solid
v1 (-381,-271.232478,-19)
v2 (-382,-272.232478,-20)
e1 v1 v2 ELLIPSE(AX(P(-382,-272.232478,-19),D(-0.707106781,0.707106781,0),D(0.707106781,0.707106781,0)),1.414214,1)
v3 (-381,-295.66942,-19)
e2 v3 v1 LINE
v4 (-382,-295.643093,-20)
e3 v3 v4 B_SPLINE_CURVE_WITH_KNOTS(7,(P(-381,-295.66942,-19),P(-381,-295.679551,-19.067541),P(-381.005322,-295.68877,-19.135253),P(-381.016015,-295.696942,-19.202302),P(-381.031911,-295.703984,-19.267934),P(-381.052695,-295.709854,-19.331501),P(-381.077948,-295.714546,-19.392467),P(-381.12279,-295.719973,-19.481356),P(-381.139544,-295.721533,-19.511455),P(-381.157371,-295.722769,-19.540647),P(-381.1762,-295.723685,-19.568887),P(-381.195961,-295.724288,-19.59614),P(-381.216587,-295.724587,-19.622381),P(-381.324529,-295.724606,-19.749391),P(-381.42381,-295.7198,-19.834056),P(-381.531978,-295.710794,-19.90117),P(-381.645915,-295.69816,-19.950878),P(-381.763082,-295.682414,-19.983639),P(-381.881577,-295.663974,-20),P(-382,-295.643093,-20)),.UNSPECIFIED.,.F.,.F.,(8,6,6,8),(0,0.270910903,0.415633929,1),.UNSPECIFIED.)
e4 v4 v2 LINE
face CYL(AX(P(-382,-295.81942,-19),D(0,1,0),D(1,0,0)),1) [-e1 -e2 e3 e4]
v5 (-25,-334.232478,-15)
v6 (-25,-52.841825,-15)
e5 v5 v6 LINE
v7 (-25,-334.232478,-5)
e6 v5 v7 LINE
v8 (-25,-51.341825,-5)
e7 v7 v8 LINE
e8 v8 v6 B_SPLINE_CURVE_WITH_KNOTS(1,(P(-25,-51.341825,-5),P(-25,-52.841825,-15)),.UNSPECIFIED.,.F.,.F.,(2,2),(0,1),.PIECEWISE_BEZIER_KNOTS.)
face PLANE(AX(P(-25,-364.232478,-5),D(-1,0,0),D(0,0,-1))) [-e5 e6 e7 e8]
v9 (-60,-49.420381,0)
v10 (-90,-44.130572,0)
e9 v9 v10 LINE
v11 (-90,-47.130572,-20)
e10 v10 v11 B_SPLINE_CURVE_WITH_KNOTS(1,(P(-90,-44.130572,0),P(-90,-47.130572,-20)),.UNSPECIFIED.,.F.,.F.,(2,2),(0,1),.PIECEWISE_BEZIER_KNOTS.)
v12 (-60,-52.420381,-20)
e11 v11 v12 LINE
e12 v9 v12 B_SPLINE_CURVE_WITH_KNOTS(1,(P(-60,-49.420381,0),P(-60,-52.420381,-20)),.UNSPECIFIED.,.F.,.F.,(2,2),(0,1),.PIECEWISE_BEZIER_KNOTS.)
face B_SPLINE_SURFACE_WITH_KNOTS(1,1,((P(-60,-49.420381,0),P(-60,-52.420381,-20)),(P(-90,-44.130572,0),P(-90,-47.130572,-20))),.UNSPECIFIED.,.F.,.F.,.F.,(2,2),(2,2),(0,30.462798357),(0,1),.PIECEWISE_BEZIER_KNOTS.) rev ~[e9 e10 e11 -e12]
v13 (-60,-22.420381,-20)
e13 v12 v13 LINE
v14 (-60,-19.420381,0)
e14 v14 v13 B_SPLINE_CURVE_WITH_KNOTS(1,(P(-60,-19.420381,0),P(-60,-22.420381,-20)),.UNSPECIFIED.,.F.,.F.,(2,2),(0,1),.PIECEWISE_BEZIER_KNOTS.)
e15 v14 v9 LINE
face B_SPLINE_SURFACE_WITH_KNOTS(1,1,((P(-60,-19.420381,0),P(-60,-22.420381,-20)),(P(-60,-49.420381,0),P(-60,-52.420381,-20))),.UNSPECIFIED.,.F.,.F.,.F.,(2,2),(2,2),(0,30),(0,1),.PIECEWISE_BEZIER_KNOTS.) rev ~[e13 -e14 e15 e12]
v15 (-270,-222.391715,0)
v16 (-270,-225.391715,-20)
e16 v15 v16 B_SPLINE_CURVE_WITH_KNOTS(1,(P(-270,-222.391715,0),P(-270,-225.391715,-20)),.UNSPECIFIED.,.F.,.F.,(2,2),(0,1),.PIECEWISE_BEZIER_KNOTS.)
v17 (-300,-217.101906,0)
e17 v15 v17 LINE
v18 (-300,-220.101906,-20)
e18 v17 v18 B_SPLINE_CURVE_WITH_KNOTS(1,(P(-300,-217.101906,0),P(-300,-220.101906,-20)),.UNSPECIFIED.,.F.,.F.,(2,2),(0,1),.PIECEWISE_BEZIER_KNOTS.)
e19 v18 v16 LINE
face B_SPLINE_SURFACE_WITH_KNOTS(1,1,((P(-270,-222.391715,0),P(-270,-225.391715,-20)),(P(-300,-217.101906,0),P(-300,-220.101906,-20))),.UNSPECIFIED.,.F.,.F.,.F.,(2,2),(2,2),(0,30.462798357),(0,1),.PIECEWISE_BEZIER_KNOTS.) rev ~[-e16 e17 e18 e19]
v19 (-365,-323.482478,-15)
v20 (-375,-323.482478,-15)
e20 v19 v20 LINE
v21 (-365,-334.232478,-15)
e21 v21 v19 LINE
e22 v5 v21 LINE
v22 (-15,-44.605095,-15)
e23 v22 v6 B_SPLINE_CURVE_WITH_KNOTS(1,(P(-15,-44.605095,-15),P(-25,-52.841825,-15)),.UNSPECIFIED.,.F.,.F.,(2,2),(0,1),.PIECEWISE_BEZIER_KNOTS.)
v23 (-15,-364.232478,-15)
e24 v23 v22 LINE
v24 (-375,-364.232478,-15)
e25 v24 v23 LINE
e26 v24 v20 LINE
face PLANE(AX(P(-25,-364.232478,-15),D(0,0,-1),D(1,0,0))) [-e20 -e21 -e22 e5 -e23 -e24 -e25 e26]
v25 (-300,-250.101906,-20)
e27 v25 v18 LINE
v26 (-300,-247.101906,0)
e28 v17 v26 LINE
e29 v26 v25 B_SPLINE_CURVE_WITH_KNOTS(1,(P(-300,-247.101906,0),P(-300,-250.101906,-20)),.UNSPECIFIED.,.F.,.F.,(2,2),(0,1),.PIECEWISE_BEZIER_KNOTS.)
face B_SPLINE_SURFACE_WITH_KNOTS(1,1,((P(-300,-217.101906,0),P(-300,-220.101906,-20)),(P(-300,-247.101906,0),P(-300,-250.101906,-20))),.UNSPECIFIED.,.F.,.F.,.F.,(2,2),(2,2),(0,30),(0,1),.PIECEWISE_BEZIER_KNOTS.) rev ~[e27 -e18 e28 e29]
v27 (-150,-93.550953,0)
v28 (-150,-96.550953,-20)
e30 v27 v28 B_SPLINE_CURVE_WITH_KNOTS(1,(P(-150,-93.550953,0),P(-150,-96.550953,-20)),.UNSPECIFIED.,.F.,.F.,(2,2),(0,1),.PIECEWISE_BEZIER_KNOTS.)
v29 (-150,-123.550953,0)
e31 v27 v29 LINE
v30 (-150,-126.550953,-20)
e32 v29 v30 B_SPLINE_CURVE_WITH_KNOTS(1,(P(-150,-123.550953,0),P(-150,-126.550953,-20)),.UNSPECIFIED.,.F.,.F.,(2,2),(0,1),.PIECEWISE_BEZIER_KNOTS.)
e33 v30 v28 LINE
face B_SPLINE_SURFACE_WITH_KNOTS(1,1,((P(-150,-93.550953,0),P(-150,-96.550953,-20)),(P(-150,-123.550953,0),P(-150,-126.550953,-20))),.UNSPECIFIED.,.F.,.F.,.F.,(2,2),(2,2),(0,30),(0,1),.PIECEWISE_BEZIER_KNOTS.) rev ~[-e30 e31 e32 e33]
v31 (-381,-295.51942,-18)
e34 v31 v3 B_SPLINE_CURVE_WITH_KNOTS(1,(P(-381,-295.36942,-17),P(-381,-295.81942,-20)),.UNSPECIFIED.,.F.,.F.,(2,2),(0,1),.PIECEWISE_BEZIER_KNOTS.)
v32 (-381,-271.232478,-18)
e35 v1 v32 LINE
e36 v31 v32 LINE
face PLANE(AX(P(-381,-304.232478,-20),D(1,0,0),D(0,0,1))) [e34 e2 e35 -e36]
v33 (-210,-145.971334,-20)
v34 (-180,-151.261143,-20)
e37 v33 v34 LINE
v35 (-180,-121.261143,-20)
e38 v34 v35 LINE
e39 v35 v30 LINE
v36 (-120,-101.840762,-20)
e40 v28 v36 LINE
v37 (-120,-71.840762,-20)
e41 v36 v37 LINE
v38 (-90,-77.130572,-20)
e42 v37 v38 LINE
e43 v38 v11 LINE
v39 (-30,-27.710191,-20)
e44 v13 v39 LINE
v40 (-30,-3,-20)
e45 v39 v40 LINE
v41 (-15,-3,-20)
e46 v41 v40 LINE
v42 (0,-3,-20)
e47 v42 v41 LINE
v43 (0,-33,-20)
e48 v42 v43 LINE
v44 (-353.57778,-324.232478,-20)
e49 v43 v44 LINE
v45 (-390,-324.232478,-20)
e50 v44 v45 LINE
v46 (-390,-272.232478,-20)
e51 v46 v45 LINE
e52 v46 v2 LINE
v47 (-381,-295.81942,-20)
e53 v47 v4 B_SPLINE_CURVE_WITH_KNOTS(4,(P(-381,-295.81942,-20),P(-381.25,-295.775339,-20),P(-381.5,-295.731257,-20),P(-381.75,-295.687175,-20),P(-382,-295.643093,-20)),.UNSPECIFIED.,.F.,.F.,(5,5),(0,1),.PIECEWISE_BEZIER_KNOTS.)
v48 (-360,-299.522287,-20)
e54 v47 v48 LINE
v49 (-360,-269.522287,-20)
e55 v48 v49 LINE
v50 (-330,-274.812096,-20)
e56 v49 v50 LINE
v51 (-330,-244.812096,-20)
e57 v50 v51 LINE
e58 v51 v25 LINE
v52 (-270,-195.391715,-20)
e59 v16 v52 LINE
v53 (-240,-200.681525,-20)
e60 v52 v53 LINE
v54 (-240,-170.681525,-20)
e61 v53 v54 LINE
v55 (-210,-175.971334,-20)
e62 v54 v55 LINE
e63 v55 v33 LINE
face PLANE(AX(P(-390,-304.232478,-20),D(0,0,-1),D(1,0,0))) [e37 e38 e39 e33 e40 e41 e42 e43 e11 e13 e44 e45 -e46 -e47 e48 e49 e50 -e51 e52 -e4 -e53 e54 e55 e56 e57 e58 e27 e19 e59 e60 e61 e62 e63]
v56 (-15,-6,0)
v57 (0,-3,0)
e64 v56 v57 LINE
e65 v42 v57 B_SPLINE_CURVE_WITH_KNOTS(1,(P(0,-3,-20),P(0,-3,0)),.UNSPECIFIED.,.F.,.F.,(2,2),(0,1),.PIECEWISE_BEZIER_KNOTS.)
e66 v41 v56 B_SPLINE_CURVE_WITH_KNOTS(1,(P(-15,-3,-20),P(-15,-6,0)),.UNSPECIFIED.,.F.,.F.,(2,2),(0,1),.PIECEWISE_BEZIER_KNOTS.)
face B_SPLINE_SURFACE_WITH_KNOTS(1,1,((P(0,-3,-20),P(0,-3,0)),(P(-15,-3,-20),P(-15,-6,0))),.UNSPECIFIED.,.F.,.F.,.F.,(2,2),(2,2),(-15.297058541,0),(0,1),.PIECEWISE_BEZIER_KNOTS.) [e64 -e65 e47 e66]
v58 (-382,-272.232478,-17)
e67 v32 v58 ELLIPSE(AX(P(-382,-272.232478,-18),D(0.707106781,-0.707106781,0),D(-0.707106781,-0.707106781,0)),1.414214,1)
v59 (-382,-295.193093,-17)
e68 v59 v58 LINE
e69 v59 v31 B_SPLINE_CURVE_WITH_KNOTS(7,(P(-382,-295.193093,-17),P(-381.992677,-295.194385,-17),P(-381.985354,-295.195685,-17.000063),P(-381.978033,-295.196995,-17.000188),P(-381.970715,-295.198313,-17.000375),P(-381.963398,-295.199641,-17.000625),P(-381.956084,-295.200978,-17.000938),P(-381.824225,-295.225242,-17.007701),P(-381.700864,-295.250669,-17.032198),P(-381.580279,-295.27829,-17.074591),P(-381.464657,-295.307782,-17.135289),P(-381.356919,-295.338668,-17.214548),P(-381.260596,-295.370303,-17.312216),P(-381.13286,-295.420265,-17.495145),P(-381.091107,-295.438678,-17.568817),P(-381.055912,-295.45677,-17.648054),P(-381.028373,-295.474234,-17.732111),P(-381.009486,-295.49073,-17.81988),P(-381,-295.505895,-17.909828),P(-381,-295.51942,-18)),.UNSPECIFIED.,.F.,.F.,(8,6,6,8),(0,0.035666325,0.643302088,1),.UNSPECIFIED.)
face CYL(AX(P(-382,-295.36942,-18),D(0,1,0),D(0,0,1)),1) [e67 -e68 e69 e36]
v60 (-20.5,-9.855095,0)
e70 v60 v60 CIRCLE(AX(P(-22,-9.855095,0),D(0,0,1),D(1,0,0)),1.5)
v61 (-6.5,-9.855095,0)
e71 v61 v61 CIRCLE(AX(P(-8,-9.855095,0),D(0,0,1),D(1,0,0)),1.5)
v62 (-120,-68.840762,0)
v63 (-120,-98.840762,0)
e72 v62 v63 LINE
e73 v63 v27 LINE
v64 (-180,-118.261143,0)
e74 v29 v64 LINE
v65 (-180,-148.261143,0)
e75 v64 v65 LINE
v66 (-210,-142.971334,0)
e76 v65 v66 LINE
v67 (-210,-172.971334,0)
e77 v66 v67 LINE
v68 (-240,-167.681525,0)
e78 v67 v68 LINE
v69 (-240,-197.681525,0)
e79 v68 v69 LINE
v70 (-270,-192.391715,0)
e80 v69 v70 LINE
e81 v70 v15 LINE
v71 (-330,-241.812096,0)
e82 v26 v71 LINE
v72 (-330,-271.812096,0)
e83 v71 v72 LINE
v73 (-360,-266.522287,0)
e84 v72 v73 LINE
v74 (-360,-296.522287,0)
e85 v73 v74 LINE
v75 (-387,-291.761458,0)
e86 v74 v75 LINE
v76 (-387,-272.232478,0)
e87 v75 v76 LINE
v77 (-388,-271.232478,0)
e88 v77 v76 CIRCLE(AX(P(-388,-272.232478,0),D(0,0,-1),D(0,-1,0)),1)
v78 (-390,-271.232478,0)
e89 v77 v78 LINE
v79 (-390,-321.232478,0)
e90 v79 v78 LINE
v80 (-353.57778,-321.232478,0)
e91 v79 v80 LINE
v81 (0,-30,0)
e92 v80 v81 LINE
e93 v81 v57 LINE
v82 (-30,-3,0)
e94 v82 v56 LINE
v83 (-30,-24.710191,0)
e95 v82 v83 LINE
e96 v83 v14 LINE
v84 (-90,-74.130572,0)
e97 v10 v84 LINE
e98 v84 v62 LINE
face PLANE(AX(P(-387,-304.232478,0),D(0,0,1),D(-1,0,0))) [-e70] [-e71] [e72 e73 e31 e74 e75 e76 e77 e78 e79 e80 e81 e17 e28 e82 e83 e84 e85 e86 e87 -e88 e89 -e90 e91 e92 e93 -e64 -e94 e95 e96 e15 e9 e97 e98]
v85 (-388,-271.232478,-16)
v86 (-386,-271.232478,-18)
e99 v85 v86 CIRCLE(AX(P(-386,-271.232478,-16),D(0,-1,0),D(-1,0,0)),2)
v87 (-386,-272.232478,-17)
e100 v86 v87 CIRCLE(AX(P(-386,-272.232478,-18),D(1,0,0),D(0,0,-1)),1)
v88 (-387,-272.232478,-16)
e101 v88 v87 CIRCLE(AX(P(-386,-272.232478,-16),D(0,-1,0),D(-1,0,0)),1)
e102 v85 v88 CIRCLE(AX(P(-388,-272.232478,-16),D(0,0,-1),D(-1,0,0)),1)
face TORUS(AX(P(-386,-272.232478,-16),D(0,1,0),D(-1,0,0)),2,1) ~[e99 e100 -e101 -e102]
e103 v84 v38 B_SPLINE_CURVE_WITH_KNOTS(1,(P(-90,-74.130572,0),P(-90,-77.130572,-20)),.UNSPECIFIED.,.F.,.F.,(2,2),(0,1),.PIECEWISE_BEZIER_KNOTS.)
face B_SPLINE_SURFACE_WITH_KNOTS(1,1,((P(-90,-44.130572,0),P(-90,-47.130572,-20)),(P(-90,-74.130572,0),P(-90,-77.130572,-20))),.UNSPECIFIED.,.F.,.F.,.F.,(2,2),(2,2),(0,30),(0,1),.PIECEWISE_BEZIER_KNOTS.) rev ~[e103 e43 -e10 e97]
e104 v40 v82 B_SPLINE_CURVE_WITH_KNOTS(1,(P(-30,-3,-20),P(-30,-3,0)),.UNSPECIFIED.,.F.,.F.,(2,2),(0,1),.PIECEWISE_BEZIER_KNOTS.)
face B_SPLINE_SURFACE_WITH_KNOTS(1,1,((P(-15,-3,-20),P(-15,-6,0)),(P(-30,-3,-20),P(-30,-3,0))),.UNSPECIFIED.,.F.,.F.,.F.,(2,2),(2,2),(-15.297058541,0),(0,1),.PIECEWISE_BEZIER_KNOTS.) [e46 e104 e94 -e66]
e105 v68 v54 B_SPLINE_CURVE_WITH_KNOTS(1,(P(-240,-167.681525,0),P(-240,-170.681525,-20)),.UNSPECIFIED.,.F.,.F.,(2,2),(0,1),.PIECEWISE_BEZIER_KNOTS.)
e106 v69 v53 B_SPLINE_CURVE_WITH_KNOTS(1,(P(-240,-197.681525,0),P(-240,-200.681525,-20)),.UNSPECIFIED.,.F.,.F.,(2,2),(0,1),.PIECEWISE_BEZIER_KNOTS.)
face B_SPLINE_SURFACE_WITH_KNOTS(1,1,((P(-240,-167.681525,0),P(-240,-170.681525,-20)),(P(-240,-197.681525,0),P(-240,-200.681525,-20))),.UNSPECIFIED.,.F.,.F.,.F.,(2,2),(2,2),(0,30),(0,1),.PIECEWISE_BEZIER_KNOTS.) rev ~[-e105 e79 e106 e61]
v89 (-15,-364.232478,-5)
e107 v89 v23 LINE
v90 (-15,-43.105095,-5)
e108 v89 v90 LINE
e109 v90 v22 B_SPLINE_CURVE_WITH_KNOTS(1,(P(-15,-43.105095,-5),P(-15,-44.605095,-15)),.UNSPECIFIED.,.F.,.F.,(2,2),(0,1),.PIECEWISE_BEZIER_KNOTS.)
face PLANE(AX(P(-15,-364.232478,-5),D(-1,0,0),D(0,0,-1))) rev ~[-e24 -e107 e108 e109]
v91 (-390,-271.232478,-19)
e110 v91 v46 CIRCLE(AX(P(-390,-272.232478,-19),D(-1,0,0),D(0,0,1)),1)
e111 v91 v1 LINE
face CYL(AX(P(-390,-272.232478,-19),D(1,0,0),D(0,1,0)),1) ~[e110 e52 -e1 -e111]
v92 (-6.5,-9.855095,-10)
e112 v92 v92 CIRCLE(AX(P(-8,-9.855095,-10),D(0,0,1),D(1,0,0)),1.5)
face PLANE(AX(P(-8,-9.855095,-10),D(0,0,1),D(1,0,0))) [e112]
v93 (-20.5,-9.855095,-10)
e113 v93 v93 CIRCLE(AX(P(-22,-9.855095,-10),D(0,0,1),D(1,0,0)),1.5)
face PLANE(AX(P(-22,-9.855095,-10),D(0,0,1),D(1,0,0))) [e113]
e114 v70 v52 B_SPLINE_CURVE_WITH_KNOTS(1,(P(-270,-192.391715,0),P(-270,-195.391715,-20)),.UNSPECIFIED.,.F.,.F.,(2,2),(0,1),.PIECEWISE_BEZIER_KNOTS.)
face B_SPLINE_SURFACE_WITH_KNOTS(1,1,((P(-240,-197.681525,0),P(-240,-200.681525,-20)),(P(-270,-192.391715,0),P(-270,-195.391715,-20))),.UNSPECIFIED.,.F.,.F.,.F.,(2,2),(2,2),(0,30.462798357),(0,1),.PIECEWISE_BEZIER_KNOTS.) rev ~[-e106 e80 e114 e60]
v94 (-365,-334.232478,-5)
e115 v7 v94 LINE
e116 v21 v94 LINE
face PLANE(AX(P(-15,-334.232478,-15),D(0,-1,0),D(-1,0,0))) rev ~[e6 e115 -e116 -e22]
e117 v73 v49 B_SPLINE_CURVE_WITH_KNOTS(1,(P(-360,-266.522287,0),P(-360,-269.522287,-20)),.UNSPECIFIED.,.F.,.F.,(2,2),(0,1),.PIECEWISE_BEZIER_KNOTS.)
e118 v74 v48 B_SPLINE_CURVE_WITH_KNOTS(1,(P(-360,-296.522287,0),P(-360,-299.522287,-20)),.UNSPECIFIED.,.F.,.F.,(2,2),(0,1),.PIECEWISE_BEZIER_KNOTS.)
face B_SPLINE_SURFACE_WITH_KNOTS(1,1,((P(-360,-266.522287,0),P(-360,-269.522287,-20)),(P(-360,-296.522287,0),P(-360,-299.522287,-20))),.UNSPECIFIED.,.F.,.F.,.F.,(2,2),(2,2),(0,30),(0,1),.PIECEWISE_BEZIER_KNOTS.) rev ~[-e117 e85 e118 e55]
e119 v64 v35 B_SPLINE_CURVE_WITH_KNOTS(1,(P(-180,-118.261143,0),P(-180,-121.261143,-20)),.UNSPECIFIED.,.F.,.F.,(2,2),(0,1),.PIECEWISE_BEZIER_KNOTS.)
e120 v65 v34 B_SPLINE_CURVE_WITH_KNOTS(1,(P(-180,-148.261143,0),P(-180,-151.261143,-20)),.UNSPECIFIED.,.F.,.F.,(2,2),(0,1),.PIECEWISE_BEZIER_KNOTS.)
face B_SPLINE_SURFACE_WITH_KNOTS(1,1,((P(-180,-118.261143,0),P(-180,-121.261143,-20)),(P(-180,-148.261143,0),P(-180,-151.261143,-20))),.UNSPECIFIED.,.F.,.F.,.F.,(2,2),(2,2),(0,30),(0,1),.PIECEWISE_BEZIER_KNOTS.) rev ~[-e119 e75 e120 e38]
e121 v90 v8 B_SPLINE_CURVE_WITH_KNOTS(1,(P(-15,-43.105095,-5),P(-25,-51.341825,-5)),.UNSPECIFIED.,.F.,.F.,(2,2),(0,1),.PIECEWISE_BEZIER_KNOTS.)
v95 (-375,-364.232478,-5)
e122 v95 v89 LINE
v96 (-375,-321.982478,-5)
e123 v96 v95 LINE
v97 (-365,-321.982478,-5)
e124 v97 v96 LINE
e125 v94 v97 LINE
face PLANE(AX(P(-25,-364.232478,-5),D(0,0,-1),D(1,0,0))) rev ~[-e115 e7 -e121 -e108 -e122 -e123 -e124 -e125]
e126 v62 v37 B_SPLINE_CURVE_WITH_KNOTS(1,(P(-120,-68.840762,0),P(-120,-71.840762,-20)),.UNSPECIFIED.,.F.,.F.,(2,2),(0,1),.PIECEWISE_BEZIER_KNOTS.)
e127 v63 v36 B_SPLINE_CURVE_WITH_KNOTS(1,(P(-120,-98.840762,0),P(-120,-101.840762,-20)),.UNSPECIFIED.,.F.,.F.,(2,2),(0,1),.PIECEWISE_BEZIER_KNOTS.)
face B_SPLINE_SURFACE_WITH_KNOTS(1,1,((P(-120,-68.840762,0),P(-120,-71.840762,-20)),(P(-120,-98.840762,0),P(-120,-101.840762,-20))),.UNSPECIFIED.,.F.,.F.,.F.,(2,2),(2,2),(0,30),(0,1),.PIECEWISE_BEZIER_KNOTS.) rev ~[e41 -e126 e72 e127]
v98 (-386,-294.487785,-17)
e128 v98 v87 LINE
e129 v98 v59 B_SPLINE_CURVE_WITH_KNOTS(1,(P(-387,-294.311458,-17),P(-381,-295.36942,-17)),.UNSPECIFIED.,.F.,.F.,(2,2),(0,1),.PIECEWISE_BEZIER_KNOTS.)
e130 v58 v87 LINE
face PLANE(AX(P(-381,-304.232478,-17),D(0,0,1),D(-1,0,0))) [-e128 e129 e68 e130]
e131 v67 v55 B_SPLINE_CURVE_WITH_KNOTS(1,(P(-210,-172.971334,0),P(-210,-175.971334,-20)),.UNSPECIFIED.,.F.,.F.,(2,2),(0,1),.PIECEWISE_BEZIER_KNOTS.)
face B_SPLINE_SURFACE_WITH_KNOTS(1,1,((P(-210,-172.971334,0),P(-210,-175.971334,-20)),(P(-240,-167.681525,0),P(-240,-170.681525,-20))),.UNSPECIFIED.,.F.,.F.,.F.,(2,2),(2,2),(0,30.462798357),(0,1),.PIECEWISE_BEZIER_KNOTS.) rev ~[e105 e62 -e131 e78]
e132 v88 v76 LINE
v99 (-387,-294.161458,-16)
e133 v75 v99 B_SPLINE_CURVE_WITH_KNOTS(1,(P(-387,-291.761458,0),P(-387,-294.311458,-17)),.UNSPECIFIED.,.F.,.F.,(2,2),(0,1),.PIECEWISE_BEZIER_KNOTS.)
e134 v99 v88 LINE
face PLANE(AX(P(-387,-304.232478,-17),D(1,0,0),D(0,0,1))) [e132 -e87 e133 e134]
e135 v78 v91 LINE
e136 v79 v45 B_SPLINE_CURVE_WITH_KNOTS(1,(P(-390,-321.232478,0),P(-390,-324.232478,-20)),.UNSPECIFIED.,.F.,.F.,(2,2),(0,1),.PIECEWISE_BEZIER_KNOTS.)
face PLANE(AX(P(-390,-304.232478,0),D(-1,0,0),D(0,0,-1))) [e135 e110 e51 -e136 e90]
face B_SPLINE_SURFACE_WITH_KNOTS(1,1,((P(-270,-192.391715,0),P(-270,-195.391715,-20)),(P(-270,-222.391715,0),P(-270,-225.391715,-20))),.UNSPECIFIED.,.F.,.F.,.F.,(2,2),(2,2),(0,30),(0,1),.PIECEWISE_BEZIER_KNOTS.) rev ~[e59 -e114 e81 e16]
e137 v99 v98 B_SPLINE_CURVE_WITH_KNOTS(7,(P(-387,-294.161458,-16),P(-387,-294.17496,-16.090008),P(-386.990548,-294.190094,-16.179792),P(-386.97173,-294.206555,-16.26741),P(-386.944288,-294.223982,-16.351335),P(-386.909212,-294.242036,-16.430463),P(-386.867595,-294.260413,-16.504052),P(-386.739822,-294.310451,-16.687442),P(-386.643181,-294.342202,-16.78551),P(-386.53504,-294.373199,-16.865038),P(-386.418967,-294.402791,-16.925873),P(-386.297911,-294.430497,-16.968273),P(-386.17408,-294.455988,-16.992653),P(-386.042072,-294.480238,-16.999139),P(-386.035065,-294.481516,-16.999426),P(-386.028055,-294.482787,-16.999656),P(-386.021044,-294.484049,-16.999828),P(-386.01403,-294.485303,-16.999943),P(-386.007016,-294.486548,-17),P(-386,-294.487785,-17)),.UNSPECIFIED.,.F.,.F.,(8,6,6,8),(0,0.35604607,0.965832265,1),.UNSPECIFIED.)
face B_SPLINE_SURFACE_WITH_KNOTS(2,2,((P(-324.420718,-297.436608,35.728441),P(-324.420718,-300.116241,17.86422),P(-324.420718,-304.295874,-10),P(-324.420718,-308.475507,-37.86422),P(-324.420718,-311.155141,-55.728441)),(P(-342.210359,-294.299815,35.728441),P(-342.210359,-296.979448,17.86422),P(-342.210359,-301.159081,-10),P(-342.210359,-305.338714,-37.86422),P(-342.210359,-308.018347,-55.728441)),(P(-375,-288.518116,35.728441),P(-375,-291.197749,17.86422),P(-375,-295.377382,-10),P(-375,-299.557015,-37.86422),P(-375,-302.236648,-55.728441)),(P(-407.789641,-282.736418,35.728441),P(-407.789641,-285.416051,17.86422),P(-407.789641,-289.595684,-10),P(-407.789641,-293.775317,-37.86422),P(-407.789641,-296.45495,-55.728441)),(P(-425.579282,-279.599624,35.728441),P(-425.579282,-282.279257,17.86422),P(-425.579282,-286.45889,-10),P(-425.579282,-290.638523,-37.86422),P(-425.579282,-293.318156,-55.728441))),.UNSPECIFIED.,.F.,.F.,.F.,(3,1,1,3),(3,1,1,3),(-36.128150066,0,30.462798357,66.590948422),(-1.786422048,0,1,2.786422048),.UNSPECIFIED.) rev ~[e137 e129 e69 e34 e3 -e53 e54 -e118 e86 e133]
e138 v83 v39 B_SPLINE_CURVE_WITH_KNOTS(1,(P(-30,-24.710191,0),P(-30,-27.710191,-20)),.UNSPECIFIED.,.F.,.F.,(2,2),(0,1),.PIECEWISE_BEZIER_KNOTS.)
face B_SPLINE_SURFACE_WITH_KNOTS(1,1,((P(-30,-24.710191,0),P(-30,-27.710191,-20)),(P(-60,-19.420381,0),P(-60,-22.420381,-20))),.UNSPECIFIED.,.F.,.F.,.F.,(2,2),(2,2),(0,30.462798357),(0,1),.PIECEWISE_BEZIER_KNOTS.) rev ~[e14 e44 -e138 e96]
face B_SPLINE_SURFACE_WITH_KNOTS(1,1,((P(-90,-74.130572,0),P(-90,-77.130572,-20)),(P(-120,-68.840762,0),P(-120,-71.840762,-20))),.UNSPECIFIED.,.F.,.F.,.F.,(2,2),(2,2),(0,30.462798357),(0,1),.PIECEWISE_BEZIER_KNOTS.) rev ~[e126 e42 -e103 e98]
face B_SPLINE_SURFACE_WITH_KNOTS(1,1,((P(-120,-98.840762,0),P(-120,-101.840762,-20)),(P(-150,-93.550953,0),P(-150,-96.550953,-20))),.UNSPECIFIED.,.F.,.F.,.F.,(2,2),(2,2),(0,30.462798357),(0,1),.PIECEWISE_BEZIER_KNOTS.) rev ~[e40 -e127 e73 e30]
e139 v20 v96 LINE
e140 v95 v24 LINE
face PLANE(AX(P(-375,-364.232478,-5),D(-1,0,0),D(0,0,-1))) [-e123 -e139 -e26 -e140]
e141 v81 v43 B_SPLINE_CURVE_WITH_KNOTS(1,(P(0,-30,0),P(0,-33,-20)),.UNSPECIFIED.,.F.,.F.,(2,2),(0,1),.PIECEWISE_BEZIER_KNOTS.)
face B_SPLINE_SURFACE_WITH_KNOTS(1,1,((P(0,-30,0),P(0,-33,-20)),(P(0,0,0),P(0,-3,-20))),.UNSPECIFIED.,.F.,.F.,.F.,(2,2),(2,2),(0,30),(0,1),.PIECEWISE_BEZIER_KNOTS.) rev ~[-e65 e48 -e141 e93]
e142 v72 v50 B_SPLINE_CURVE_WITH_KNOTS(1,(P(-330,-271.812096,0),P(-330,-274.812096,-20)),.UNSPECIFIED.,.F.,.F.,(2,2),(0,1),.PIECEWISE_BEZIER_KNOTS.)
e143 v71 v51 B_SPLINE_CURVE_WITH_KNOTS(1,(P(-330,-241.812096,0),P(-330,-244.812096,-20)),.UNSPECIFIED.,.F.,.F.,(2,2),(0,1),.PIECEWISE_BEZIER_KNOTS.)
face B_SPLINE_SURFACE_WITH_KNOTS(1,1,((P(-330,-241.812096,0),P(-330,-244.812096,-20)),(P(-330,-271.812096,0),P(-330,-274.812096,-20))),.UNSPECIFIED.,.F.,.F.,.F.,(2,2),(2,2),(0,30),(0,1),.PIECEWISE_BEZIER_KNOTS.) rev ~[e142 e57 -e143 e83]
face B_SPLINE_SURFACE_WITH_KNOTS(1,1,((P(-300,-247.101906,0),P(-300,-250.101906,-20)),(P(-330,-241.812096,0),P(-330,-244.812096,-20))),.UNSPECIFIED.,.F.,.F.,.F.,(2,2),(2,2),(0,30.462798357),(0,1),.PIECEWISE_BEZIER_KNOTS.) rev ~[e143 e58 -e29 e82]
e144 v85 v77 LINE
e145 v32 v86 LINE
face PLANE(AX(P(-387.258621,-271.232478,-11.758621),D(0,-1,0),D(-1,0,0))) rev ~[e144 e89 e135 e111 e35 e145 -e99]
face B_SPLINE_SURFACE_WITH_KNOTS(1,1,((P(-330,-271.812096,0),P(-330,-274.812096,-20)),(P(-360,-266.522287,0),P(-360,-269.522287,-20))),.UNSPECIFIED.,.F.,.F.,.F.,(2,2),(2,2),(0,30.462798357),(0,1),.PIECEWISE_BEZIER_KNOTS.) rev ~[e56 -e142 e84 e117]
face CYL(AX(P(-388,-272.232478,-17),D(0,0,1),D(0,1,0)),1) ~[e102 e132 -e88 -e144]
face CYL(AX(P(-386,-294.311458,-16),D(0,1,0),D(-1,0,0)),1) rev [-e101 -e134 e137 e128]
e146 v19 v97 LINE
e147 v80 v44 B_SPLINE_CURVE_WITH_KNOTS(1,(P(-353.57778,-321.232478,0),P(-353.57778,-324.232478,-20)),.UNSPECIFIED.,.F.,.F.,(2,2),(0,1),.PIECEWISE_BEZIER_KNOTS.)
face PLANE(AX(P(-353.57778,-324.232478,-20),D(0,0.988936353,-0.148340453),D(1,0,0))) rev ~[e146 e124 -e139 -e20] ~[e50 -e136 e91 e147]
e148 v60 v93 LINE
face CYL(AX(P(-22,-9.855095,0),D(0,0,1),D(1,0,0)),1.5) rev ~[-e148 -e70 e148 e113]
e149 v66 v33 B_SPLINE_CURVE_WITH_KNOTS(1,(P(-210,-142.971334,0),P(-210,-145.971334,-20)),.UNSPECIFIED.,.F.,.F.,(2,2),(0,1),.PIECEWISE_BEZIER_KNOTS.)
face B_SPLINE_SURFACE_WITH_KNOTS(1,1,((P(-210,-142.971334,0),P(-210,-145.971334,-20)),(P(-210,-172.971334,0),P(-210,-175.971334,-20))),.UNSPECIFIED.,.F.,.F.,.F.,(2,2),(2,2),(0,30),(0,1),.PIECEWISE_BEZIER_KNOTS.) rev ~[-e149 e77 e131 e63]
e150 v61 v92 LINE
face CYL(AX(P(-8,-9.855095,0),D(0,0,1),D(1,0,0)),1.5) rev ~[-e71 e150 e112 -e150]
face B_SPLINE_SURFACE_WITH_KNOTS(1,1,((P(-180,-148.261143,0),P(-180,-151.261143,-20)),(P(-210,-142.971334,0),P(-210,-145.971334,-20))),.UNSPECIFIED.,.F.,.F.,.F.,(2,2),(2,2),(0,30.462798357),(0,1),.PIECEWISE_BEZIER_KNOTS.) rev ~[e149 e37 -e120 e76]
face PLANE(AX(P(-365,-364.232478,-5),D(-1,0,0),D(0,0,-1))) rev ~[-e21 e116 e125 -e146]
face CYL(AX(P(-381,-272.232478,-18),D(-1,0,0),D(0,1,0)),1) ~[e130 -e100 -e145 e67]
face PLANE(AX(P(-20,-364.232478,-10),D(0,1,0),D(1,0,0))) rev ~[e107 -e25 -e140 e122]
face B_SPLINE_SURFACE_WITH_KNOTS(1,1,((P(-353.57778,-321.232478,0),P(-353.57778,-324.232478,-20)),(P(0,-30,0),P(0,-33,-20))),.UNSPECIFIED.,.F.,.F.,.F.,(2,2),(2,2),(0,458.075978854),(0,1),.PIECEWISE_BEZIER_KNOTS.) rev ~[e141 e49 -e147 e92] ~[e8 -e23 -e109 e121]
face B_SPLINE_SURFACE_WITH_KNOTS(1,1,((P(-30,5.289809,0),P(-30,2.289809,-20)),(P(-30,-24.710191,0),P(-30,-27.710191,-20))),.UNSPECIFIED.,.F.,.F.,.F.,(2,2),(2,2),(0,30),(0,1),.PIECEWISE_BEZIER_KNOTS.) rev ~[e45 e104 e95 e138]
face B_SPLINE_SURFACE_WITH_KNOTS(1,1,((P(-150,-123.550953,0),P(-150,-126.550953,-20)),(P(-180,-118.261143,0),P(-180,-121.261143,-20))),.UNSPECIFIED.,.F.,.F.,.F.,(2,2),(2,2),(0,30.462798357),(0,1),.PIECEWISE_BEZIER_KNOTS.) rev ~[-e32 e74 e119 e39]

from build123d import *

# Parameters (mm, degrees)
BOSS_EXTRUDE3_DEPTH      = 20
BOSS_EXTRUDE3_DEPTH_BACK = 13
FILLET2_R                = 1
BOSS_EXTRUDE4_DEPTH      = 20
BOSS_EXTRUDE4_DEPTH_BACK = 40
SKETCH10_W               = 10
SKETCH10_H               = 10
BOSS_EXTRUDE5_DEPTH      = 300
BOSS_EXTRUDE5_DEPTH_BACK = 40
SKETCH12_W               = 10
SKETCH12_H               = 10
SKETCH13_W               = 360
SKETCH13_H               = 30
BOSS_EXTRUDE6_DEPTH      = 10
SKETCH14_R               = 1.5
CUT_EXTRUDE1_DEPTH       = 10


with BuildPart() as part:
    # Sketch1 → Loft1 section 0
    with BuildSketch(Plane.XY):
        with BuildLine():
            Line((0, 0), (-30, 5.289809421))
            Line((-30, 5.289809421), (-30, -24.710190579))
            Line((-30, -24.710190579), (-60, -19.420381157))
            Line((-60, -19.420381157), (-60, -49.420381157))
            Line((-60, -49.420381157), (-90, -44.130571736))
            Line((-90, -44.130571736), (-90, -74.130571736))
            Line((-90, -74.130571736), (-120, -68.840762315))
            Line((-120, -68.840762315), (-120, -98.840762315))
            Line((-120, -98.840762315), (-150, -93.550952894))
            Line((-150, -93.550952894), (-150, -123.550952894))
            Line((-150, -123.550952894), (-180, -118.261143472))
            Line((-180, -118.261143472), (-180, -148.261143472))
            Line((-180, -148.261143472), (-210, -142.971334051))
            Line((-210, -142.971334051), (-210, -172.971334051))
            Line((-210, -172.971334051), (-240, -167.68152463))
            Line((-240, -167.68152463), (-240, -197.68152463))
            Line((-240, -197.68152463), (-270, -192.391715209))
            Line((-270, -192.391715209), (-270, -222.391715209))
            Line((-270, -222.391715209), (-300, -217.101905787))
            Line((-300, -217.101905787), (-300, -247.101905787))
            Line((-300, -247.101905787), (-330, -241.812096366))
            Line((-330, -241.812096366), (-330, -271.812096366))
            Line((-330, -271.812096366), (-360, -266.522286945))
            Line((-360, -266.522286945), (-360, -296.522286945))
            Line((-360, -296.522286945), (-390, -291.232477524))
            Line((-390, -291.232477524), (-390, -321.232477524))
            Line((-390, -321.232477524), (-353.577779899, -321.232477524))
            Line((-353.577779899, -321.232477524), (0, -30))
            Line((0, -30), (0, 0))
        make_face()
    # Sketch2 → Loft1 section 1
    with BuildSketch(Plane.XY.offset(-20)):
        with BuildLine():
            Line((-353.577779899, -324.232477524), (-390, -324.232477524))
            Line((-390, -324.232477524), (-390, -294.232477524))
            Line((-390, -294.232477524), (-360, -299.522286945))
            Line((-360, -299.522286945), (-360, -269.522286945))
            Line((-360, -269.522286945), (-330, -274.812096366))
            Line((-330, -274.812096366), (-330, -244.812096366))
            Line((-330, -244.812096366), (-300, -250.101905787))
            Line((-300, -250.101905787), (-300, -220.101905787))
            Line((-300, -220.101905787), (-270, -225.391715209))
            Line((-270, -225.391715209), (-270, -195.391715209))
            Line((-270, -195.391715209), (-240, -200.68152463))
            Line((-240, -200.68152463), (-240, -170.68152463))
            Line((-240, -170.68152463), (-210, -175.971334051))
            Line((-210, -175.971334051), (-210, -145.971334051))
            Line((-210, -145.971334051), (-180, -151.261143472))
            Line((-180, -151.261143472), (-180, -121.261143472))
            Line((-180, -121.261143472), (-150, -126.550952894))
            Line((-150, -126.550952894), (-150, -96.550952894))
            Line((-150, -96.550952894), (-120, -101.840762315))
            Line((-120, -101.840762315), (-120, -71.840762315))
            Line((-120, -71.840762315), (-90, -77.130571736))
            Line((-90, -77.130571736), (-90, -47.130571736))
            Line((-90, -47.130571736), (-60, -52.420381157))
            Line((-60, -52.420381157), (-60, -22.420381157))
            Line((-60, -22.420381157), (-30, -27.710190579))
            Line((-30, -27.710190579), (-30, 2.289809421))
            Line((-30, 2.289809421), (0, -3))
            Line((0, -3), (0, -33))
            Line((0, -33), (-353.577779899, -324.232477524))
        make_face()
    loft()

    # Sketch8 → Cut-Loft1 section 0
    with BuildSketch(Plane(origin=(0, 0, -20), x_dir=(-1, 0, 0), z_dir=(0, 0, -1))):
        with BuildLine():
            Line((0, -3), (30, -3))
            Line((30, -3), (30, 5.289809421))
            Line((30, 5.289809421), (0, 5.289809421))
            Line((0, 5.289809421), (0, -3))
        make_face()
    # Sketch7 → Cut-Loft1 section 1
    with BuildSketch(Plane.XY):
        with BuildLine():
            Line((0, 5.289809421), (-30, 5.289809421))
            Line((-30, 5.289809421), (-30, -3))
            Line((-30, -3), (-15, -6))
            Line((-15, -6), (0, -3))
            Line((0, -3), (0, 5.289809421))
        make_face()
    loft(mode=Mode.SUBTRACT)

    # Sketch9 → Boss-Extrude3 (add, two sides: drawn at the far end of the back side and taken through both)
    with BuildSketch(Plane(origin=(0, -291.232477524, 0), x_dir=(1, 0, 0), z_dir=(0, 1, 0)).offset(-BOSS_EXTRUDE3_DEPTH_BACK)):
        Polygon((-390, 0), (-390, 20), (-381, 20), (-381, 17), (-387, 17), (-387, 0), align=None)
    extrude(amount=BOSS_EXTRUDE3_DEPTH + BOSS_EXTRUDE3_DEPTH_BACK)

    # Fillet2
    fillet2_edges = [part.edges().sort_by_distance(p)[0] for p in [
        (-387, -271.232477524, -8.5),
        (-385.5, -271.232477524, -20),
        (-384, -271.232477524, -17),
        (-381, -283.525948937, -20),
        (-381, -283.300948937, -17),
        (-387, -282.771967995, -17),
    ]]
    fillet(fillet2_edges, radius=FILLET2_R)

    # Sketch12 → Boss-Extrude5 (add, two sides: drawn at the far end of the back side and taken through both)
    with BuildSketch(Plane(origin=(0, -324.232477524, 0), x_dir=(1, 0, 0), z_dir=(0, 1, 0)).offset(-BOSS_EXTRUDE5_DEPTH_BACK)):
        with Locations((-20, 10)):
            Rectangle(SKETCH12_W, SKETCH12_H)
    extrude(amount=BOSS_EXTRUDE5_DEPTH + BOSS_EXTRUDE5_DEPTH_BACK)



with BuildPart() as body_2:
    # Sketch10 → Boss-Extrude4 (new, two sides: drawn at the far end of the back side and taken through both)
    with BuildSketch(Plane(origin=(0, -324.232477524, 0), x_dir=(1, 0, 0), z_dir=(0, 1, 0)).offset(-BOSS_EXTRUDE4_DEPTH_BACK)):
        with Locations((-370, 10)):
            Rectangle(SKETCH10_W, SKETCH10_H)
    extrude(amount=BOSS_EXTRUDE4_DEPTH + BOSS_EXTRUDE4_DEPTH_BACK)


with BuildPart() as part_1:
    add(part.part)

    add(body_2.part)  # Boss-Extrude6 merges body 2
    # Sketch13 → Boss-Extrude6 (add)
    with BuildSketch(Plane(origin=(0, 0, -15), x_dir=(-1, 0, 0), z_dir=(0, 0, -1))):
        with Locations((195, -349.232477524)):
            Rectangle(SKETCH13_W, SKETCH13_H)
    extrude(amount=-BOSS_EXTRUDE6_DEPTH)

    # Sketch14 → Cut-Extrude1 (cut)
    with BuildSketch(Plane.XY):
        with Locations((-22, -9.855095289)):
            Circle(SKETCH14_R)
        with Locations((-8, -9.855095289)):
            Circle(SKETCH14_R)
    extrude(amount=-CUT_EXTRUDE1_DEPTH, mode=Mode.SUBTRACT)


solid = part_1.part
